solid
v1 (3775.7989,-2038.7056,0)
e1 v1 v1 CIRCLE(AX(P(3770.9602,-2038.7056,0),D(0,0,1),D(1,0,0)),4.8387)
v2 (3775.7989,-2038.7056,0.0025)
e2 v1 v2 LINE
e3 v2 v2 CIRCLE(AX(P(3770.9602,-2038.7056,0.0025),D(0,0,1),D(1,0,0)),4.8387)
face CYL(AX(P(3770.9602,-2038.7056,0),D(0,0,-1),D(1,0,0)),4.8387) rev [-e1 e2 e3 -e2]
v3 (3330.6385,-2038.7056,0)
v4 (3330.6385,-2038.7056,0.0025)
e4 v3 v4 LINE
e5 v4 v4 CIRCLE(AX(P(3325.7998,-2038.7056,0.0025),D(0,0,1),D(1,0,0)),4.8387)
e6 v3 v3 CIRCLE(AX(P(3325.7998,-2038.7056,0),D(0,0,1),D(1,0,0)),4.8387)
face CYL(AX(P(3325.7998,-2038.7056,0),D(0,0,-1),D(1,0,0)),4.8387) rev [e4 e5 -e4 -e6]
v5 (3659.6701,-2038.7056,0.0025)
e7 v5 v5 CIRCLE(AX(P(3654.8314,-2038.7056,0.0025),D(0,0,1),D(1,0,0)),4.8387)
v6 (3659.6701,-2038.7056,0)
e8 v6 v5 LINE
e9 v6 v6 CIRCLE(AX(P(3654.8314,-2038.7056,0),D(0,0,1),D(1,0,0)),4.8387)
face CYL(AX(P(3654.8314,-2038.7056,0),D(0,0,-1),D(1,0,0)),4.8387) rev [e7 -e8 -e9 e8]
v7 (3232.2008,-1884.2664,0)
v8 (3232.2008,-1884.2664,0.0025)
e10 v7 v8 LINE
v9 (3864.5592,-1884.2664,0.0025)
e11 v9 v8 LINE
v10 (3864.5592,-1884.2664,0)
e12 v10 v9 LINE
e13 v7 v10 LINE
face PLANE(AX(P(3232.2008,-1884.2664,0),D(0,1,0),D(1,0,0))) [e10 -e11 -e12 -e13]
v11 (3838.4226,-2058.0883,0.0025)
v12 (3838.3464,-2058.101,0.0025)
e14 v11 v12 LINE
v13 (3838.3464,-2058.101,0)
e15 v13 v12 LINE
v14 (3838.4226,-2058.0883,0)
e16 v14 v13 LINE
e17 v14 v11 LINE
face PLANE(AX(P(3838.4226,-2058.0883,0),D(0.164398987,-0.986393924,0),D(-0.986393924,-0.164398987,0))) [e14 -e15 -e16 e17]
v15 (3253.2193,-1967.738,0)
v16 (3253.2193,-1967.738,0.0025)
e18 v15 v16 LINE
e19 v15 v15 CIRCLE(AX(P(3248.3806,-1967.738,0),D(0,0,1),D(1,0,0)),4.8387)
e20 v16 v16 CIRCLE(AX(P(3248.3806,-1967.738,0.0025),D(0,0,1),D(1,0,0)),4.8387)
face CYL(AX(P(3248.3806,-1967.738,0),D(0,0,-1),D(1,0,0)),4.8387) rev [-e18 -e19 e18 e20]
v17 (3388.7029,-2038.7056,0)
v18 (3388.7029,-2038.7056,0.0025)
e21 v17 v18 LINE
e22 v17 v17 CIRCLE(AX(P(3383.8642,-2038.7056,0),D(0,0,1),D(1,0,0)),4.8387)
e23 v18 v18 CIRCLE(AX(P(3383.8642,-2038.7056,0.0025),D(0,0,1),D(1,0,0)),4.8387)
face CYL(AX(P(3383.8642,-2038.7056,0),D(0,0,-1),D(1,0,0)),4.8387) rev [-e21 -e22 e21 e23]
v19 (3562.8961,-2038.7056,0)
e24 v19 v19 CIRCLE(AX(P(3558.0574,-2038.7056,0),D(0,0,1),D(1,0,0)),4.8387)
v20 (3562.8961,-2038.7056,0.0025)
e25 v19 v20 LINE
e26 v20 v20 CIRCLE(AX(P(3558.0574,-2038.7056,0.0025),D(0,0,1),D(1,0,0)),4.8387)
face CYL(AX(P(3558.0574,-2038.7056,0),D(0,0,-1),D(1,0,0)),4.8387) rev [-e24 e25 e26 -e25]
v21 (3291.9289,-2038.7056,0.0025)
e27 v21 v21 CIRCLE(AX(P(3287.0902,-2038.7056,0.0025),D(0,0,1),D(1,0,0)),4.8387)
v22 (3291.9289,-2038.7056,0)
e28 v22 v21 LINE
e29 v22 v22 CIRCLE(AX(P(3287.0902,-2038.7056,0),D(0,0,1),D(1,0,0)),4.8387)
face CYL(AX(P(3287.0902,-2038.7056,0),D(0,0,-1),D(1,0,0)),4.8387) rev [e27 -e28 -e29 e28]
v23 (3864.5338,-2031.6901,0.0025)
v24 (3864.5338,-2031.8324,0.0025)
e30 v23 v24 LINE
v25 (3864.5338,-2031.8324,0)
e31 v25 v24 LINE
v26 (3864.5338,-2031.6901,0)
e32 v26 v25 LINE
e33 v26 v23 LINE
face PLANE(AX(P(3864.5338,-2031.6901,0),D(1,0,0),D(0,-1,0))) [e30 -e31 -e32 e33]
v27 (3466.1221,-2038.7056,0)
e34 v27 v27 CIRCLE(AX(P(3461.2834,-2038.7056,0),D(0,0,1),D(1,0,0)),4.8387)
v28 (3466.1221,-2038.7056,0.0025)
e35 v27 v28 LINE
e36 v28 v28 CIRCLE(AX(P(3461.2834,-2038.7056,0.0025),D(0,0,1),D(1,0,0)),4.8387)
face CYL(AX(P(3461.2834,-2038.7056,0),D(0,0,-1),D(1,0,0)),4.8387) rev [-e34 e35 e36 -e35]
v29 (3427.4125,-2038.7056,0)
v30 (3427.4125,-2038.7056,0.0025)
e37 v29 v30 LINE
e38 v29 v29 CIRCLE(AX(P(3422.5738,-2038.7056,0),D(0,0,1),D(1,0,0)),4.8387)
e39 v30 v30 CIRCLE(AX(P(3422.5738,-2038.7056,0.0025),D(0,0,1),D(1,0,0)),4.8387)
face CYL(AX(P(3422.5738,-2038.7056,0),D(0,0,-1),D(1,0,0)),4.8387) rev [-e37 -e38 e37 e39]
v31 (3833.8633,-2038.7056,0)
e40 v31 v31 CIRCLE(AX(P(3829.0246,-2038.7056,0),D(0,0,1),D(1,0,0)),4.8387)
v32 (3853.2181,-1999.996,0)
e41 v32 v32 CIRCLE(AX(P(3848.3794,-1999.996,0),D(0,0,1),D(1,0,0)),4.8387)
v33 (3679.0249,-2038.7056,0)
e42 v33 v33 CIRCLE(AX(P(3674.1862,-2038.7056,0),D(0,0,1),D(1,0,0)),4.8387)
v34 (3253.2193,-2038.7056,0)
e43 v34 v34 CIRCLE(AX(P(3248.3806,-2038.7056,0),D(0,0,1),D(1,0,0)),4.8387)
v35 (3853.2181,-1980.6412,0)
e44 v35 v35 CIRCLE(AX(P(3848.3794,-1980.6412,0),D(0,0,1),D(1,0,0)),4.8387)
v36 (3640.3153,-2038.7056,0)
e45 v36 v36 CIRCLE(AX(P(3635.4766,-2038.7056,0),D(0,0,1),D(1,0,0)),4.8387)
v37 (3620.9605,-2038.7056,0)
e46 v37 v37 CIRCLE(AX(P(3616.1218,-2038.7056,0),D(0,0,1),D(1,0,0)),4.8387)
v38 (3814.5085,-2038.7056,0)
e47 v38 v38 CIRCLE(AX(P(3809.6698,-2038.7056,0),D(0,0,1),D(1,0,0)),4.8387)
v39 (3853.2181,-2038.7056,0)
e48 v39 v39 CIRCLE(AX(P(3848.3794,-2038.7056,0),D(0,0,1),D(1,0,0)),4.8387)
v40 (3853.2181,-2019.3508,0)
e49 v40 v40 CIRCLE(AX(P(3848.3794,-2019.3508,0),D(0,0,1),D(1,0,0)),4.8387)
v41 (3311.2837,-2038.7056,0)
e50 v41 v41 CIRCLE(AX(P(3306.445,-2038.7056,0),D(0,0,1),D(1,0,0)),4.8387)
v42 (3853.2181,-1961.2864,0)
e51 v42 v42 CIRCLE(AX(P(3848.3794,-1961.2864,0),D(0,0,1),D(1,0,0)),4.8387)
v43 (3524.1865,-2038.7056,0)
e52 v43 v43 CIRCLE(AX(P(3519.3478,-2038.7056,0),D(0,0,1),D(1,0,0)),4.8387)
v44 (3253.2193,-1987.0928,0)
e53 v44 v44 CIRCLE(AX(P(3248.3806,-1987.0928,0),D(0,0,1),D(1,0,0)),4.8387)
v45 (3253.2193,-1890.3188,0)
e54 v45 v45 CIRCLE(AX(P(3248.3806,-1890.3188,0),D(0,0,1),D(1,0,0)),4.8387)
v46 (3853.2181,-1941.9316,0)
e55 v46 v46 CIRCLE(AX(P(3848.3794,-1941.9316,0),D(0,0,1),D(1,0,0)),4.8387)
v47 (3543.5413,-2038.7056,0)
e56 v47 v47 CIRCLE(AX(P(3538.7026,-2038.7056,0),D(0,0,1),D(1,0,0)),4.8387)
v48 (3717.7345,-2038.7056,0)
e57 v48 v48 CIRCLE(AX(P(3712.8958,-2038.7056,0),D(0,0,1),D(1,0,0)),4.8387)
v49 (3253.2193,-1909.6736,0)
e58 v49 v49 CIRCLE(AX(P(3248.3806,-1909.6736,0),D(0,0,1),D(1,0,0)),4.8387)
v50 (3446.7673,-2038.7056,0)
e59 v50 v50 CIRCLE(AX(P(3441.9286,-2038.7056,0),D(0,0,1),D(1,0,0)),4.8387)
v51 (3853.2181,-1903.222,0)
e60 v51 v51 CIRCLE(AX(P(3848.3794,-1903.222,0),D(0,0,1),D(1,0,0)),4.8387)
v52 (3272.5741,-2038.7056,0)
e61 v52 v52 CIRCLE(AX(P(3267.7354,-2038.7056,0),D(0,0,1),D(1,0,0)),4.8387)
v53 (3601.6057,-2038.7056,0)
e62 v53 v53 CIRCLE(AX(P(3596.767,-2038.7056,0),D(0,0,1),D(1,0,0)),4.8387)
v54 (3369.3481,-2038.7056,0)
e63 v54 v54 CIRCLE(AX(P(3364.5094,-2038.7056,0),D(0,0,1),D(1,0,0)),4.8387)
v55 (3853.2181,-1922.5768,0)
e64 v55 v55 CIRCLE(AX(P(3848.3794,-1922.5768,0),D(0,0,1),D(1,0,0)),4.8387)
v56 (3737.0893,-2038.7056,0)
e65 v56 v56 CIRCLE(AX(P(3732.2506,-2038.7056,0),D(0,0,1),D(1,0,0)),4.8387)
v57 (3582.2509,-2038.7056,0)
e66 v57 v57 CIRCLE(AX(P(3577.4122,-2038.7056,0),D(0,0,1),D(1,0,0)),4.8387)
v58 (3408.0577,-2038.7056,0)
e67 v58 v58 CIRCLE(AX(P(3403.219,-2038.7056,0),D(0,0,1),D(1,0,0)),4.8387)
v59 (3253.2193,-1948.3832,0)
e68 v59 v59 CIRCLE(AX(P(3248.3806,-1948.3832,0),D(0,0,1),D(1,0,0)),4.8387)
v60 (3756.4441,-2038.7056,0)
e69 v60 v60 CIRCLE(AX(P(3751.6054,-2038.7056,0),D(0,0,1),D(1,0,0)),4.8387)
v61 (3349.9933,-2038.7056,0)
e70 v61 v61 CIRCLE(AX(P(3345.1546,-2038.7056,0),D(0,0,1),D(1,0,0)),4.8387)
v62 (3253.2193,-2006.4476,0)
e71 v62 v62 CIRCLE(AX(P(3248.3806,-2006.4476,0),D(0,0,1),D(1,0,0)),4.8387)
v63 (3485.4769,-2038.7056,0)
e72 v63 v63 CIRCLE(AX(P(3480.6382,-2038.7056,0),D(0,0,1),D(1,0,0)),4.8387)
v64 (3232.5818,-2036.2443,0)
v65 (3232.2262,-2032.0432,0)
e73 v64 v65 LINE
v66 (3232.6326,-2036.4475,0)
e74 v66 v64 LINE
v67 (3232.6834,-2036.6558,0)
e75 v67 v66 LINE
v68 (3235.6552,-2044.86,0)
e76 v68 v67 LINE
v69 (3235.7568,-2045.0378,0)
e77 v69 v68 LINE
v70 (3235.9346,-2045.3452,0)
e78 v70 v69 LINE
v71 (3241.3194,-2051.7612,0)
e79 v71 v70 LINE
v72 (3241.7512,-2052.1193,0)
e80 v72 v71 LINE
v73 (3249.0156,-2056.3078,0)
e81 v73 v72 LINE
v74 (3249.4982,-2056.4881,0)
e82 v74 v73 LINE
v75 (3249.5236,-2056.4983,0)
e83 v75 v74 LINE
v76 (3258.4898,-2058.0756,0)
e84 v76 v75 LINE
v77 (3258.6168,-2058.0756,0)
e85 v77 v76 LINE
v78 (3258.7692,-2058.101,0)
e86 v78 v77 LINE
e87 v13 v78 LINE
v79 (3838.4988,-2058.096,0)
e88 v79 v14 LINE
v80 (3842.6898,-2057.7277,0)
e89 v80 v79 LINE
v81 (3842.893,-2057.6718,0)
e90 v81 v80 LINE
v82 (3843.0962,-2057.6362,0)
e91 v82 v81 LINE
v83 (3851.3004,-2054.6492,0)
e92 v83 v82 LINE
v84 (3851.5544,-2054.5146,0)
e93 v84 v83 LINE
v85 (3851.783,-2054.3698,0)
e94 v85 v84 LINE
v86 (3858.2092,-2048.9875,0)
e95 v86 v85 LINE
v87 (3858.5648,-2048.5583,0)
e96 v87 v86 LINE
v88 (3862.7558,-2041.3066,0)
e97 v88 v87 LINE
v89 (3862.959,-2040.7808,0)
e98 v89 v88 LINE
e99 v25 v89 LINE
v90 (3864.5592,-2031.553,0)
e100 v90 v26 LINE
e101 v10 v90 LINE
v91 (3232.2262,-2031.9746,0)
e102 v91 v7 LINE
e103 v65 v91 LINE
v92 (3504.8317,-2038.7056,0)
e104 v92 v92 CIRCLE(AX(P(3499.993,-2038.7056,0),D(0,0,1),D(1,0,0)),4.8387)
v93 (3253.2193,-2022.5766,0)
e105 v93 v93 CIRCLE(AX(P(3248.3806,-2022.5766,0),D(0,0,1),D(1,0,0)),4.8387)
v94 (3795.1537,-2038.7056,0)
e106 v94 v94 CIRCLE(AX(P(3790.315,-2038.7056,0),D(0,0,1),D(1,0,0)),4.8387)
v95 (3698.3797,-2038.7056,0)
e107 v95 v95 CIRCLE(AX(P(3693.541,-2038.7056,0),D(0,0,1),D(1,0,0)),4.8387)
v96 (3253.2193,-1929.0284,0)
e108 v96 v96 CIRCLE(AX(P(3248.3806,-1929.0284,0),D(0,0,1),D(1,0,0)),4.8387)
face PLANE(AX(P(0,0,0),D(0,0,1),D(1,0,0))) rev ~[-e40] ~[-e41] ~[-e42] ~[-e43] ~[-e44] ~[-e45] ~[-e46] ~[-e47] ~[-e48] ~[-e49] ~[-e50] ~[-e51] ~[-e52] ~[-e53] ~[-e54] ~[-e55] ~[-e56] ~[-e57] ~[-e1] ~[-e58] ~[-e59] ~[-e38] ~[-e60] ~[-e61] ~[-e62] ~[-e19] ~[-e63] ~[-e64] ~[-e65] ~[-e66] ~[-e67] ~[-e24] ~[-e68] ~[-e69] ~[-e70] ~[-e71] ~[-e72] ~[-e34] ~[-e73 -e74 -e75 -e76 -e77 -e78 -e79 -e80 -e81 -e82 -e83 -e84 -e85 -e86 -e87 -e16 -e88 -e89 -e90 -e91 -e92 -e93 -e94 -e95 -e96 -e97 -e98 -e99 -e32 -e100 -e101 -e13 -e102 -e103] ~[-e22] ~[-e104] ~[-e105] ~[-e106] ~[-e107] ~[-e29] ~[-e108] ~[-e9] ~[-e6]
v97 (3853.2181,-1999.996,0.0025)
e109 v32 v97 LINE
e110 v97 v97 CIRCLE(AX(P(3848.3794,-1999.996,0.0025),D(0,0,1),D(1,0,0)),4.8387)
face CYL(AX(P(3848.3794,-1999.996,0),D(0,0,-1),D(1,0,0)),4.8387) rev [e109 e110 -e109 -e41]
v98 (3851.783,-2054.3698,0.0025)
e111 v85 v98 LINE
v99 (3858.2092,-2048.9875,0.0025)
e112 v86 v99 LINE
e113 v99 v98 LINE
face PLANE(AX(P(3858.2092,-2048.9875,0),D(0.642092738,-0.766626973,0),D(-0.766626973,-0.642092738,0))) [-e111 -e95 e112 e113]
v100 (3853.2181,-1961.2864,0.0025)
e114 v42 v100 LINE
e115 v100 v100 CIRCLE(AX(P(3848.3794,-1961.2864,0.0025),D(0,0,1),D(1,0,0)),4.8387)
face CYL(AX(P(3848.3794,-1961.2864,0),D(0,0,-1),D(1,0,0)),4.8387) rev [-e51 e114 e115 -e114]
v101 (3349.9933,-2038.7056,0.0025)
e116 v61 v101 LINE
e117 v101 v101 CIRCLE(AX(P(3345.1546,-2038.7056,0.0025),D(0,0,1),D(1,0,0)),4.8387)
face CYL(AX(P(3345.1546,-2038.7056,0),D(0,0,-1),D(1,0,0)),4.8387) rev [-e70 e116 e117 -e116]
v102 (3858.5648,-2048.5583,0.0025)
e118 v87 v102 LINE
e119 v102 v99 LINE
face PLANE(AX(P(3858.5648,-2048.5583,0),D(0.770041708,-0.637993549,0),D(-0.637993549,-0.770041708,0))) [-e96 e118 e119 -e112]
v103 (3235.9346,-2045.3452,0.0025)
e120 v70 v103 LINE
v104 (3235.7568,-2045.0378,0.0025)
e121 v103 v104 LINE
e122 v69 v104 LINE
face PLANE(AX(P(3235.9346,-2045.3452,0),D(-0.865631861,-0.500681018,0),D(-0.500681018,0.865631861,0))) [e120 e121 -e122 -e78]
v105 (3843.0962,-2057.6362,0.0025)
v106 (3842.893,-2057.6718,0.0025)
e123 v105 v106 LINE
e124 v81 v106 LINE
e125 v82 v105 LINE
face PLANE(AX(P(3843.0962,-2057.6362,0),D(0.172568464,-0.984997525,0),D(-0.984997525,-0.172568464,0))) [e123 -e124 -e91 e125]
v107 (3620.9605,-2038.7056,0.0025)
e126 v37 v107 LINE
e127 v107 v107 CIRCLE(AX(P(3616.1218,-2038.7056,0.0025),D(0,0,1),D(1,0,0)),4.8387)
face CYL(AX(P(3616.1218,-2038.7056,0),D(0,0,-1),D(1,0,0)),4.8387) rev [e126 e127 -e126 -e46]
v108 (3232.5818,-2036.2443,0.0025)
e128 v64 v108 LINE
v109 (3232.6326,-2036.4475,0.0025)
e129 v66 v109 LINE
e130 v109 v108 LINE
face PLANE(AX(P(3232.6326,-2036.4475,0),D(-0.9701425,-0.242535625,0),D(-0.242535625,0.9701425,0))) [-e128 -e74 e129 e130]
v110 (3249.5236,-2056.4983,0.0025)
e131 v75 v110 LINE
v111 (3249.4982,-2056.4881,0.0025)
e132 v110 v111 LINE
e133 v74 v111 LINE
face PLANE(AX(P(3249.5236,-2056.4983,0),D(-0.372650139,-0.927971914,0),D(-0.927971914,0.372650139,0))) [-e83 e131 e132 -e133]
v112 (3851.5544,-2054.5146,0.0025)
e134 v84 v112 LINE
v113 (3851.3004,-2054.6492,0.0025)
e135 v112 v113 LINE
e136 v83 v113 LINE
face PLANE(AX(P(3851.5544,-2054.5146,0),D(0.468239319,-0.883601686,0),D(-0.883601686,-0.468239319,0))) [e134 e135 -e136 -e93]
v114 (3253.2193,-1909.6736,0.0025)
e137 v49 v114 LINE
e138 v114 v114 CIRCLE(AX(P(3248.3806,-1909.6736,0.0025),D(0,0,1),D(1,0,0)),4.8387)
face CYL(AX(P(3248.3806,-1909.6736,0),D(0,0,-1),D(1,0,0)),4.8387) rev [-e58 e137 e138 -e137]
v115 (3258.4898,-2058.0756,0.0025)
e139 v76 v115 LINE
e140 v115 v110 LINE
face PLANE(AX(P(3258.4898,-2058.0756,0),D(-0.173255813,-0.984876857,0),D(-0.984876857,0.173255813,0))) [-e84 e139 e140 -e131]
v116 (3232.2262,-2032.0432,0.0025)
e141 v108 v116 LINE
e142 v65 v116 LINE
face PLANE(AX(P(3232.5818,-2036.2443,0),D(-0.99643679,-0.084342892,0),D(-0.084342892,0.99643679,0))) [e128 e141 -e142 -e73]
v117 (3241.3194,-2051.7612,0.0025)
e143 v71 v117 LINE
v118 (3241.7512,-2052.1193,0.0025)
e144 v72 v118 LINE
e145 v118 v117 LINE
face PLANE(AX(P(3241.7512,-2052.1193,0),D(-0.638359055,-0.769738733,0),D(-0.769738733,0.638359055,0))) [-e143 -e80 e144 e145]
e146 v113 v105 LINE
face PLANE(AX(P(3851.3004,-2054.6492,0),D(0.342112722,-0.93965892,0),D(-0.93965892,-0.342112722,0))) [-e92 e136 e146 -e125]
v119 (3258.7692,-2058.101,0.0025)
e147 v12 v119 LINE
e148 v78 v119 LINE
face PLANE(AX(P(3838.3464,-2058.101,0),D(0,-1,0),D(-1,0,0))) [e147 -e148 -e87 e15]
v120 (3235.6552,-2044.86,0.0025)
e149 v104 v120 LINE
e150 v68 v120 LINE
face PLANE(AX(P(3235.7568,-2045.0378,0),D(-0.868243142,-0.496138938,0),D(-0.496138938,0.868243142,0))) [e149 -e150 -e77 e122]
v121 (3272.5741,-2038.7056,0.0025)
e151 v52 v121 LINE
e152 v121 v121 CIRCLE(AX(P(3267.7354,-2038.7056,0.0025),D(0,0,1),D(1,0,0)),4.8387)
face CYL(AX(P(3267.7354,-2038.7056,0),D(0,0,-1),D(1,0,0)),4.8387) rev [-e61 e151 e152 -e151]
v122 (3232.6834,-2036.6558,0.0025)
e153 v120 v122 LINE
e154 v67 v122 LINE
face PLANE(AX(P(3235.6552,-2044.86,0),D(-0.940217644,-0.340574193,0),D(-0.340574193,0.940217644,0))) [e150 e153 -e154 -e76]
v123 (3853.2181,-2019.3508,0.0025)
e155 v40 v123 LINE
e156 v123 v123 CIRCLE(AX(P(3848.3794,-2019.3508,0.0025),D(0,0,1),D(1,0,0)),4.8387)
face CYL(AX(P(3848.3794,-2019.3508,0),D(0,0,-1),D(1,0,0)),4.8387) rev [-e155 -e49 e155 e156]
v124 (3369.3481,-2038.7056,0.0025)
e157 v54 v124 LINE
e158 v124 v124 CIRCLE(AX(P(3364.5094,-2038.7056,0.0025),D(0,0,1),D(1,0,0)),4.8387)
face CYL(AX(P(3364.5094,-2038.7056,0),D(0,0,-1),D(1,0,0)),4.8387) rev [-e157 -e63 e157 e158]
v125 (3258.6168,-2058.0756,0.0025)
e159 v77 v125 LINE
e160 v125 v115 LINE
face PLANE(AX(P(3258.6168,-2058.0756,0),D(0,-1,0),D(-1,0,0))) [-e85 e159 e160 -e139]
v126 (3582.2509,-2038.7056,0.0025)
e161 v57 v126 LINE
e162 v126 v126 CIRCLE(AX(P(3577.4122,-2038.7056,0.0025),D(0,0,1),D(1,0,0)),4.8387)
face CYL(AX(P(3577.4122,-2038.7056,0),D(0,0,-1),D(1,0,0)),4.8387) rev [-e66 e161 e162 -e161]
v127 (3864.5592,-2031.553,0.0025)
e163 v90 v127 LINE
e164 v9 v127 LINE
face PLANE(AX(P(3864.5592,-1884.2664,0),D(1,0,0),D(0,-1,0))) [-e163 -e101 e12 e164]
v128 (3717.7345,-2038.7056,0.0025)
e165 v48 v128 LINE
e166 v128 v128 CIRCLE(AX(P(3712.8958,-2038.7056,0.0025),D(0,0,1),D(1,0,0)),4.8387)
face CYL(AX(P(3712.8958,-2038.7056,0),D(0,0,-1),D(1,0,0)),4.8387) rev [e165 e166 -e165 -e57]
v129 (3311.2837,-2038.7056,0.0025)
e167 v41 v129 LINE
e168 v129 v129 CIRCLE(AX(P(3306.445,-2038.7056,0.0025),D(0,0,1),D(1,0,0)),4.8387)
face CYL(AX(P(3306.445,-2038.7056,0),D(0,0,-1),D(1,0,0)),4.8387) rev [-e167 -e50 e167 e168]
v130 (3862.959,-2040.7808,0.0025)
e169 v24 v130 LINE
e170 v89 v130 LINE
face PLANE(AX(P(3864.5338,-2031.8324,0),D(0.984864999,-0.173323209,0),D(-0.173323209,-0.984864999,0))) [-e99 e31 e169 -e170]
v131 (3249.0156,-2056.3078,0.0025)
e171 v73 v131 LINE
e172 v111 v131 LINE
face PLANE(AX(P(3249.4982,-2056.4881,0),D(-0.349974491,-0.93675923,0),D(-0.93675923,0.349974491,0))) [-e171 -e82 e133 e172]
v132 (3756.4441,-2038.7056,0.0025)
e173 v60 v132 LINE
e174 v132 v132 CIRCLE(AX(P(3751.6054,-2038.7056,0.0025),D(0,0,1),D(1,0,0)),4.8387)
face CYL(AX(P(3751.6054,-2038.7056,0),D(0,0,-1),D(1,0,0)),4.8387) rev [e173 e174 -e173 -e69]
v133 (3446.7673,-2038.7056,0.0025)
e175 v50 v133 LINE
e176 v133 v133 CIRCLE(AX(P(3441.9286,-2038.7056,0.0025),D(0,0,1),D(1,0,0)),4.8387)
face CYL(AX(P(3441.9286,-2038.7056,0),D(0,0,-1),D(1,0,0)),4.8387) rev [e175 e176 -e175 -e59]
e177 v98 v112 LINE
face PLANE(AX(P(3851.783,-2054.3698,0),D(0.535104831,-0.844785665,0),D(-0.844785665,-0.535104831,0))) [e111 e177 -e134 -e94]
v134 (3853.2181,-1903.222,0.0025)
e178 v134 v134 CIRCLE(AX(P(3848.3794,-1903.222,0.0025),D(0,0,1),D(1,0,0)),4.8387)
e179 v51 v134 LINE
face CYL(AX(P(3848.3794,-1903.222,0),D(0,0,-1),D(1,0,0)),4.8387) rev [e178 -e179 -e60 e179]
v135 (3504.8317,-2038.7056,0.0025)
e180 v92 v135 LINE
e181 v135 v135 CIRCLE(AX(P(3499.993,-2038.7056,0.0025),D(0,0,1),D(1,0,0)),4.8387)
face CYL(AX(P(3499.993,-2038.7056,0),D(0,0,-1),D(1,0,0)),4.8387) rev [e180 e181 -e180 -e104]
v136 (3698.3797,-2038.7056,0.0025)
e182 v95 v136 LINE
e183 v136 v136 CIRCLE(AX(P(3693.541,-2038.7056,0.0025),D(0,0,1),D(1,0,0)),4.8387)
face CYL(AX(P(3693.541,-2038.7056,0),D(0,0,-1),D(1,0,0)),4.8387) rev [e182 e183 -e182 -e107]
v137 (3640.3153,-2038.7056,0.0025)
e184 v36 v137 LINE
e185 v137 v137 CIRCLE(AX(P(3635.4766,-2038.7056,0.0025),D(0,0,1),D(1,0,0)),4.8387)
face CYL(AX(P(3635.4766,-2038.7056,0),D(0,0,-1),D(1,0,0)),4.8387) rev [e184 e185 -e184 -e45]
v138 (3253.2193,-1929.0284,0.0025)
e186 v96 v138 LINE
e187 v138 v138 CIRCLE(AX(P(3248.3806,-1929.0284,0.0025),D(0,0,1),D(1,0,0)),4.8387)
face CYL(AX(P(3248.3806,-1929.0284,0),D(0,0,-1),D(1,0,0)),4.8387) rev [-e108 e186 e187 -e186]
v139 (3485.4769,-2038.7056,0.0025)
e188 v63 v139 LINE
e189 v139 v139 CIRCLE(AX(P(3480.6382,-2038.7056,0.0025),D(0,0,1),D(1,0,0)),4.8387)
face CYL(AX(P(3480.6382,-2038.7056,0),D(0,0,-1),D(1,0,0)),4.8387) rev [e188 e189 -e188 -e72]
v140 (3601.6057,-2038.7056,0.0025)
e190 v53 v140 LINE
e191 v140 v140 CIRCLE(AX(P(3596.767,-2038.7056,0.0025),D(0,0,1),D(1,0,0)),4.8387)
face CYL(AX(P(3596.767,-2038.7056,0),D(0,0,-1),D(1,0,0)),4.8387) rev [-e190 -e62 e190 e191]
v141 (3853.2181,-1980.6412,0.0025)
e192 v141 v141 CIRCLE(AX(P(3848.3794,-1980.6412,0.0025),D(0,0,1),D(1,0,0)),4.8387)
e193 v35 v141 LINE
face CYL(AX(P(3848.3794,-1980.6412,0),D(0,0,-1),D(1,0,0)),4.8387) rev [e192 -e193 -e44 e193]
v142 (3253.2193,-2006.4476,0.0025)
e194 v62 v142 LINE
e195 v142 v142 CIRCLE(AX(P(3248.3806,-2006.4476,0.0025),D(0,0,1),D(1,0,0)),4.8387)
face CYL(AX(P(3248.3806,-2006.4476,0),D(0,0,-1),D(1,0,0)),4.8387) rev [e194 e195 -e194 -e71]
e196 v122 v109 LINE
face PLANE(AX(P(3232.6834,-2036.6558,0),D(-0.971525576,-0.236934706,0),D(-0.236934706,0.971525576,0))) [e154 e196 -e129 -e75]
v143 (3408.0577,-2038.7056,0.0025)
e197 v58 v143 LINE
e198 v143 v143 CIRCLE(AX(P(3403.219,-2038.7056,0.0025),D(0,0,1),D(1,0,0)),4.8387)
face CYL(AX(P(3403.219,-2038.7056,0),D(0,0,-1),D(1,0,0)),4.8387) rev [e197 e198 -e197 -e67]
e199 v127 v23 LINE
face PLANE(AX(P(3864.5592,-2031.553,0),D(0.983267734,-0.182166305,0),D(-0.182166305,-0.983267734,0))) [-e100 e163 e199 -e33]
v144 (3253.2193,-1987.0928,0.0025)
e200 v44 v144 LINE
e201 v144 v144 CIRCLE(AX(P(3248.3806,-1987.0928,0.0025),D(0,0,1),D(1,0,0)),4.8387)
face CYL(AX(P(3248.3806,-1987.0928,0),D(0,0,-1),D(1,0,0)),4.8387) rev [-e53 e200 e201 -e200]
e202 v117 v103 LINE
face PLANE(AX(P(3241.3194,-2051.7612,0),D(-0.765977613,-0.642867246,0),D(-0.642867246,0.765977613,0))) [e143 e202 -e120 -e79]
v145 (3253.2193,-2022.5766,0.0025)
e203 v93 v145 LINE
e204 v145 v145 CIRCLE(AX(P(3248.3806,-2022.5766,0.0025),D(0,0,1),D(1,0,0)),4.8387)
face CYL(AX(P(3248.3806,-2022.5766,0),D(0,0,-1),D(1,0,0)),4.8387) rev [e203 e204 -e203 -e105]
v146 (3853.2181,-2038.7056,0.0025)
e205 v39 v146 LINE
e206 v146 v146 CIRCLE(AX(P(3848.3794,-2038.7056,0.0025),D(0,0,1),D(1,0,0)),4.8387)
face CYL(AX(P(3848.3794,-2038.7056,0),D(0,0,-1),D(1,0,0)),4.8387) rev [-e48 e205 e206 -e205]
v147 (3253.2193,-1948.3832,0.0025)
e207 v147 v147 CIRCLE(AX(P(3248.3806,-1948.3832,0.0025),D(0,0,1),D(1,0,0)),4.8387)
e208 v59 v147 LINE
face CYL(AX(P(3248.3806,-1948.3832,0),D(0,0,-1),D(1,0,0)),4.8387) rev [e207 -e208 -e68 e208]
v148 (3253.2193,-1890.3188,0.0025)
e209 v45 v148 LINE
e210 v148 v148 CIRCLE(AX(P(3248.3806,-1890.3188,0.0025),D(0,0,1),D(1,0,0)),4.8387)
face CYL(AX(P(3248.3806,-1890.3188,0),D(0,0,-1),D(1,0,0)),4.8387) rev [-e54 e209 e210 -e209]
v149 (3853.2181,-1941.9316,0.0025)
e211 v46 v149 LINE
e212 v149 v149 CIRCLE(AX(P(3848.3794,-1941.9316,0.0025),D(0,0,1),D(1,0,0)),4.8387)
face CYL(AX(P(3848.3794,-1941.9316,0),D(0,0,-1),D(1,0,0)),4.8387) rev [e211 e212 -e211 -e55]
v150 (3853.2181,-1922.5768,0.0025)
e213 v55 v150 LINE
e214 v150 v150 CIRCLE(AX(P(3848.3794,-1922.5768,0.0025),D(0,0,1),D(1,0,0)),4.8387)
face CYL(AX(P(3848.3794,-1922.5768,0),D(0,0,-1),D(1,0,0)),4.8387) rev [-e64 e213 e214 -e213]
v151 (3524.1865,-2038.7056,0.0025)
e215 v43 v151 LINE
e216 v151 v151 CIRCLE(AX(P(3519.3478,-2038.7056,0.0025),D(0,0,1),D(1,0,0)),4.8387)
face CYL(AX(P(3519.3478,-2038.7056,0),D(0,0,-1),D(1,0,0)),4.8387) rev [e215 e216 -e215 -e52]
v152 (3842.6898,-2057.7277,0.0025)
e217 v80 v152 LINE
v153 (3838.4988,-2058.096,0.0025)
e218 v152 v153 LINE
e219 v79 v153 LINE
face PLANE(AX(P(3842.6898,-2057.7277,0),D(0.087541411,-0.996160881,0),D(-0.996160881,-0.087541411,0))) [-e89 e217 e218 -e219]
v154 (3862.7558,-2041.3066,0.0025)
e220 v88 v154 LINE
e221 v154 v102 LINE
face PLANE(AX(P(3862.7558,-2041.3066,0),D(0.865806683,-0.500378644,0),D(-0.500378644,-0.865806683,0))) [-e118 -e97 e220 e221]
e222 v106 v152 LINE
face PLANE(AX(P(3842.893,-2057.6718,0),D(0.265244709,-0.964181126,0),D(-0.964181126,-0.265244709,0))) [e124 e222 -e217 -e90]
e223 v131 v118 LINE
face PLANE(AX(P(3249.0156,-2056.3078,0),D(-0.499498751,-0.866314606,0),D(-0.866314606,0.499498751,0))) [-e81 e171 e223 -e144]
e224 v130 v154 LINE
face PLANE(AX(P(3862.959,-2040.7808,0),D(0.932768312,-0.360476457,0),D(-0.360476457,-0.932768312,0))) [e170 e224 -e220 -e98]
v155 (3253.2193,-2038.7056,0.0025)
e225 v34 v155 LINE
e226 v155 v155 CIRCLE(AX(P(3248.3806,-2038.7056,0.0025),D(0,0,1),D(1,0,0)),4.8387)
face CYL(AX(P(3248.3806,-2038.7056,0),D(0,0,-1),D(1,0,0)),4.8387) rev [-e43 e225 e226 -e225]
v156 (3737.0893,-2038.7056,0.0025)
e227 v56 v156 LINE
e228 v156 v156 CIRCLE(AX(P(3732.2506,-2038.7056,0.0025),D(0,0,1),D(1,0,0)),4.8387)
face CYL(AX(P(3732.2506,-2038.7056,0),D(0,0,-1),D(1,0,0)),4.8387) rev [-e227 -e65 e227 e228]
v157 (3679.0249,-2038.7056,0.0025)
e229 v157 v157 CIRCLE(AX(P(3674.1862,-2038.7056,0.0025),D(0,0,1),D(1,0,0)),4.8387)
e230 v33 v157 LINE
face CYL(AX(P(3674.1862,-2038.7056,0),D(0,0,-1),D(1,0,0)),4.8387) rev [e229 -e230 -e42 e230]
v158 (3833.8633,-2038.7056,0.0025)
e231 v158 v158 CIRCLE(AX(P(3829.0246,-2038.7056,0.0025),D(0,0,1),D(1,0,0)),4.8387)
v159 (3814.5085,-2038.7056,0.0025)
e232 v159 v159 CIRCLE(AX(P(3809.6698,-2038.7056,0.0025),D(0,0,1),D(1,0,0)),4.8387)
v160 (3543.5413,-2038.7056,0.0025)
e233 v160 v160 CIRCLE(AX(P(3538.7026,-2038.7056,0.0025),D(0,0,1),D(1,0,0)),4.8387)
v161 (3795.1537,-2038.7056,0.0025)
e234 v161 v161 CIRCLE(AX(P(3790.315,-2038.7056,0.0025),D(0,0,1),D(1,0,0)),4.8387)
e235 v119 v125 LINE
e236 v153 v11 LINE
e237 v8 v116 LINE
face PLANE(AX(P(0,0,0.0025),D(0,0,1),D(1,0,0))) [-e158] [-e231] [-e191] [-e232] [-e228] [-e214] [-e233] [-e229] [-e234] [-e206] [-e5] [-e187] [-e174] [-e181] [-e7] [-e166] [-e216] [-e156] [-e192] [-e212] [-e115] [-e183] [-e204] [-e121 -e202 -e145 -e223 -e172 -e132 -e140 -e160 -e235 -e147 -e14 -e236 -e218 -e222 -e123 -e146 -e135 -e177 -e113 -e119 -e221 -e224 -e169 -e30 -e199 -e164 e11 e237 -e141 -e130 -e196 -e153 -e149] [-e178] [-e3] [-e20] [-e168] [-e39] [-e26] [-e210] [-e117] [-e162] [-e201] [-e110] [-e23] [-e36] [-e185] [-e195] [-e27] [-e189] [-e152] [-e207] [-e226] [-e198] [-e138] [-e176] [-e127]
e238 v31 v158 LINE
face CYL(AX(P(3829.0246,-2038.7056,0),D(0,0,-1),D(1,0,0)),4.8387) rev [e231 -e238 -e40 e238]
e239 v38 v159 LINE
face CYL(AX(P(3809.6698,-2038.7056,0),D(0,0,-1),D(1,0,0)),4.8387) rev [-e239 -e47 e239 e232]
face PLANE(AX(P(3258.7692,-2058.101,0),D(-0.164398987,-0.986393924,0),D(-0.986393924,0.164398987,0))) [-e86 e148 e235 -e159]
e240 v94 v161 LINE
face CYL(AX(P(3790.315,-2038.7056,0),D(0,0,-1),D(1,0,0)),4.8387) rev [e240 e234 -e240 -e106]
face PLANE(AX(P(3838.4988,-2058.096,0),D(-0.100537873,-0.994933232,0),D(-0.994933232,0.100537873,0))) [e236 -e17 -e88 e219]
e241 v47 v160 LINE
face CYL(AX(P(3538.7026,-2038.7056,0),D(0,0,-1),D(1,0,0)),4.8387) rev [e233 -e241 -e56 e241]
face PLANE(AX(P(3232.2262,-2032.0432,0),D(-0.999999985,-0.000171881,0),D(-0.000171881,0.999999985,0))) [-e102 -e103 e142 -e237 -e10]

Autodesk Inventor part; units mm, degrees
ref_plane "YZ Plane" through (0, 0, 0) normal (1, 0, 0) x (0, 1, 0)
ref_plane "XZ Plane" through (0, 0, 0) normal (0, 1, 0) x (-1, 0, 0)
ref_plane "XY Plane" through (0, 0, 0) normal (0, 0, 1) x (1, 0, 0)
sketch "Sketch1" plane through (0, 0, 0) normal (0, 0, 1) x (1, 0, 0)
  circle A0 centre (3267.7354, -2038.7056) radius 4.8387 projected
  circle A1 centre (3267.7354, -2038.7056) radius 4.8387 projected
  circle A2 centre (3287.0902, -2038.7056) radius 4.8387 projected
  circle A3 centre (3287.0902, -2038.7056) radius 4.8387 projected
  circle A4 centre (3306.445, -2038.7056) radius 4.8387 projected
  circle A5 centre (3306.445, -2038.7056) radius 4.8387 projected
  circle A6 centre (3325.7998, -2038.7056) radius 4.8387 projected
  circle A7 centre (3325.7998, -2038.7056) radius 4.8387 projected
  circle A8 centre (3345.1546, -2038.7056) radius 4.8387 projected
  circle A9 centre (3345.1546, -2038.7056) radius 4.8387 projected
  circle A10 centre (3364.5094, -2038.7056) radius 4.8387 projected
  circle A11 centre (3364.5094, -2038.7056) radius 4.8387 projected
  circle A12 centre (3383.8642, -2038.7056) radius 4.8387 projected
  circle A13 centre (3383.8642, -2038.7056) radius 4.8387 projected
  line L0 (3864.5338, -2031.6901) -> (3864.5338, -2031.8324) projected
  line L1 (3864.5338, -2031.8324) -> (3862.959, -2040.7808) projected
  line L2 (3862.959, -2040.7808) -> (3862.7558, -2041.3066) projected
  line L3 (3862.7558, -2041.3066) -> (3858.5648, -2048.5583) projected
  line L4 (3858.5648, -2048.5583) -> (3858.2092, -2048.9875) projected
  line L5 (3858.2092, -2048.9875) -> (3851.783, -2054.3698) projected
  line L6 (3851.783, -2054.3698) -> (3851.5544, -2054.5146) projected
  line L7 (3851.5544, -2054.5146) -> (3851.3004, -2054.6492) projected
  line L8 (3851.3004, -2054.6492) -> (3843.0962, -2057.6362) projected
  line L9 (3843.0962, -2057.6362) -> (3842.893, -2057.6718) projected
  line L10 (3842.893, -2057.6718) -> (3842.6898, -2057.7277) projected
  line L11 (3842.6898, -2057.7277) -> (3838.4988, -2058.096) projected
  line L12 (3838.4988, -2058.096) -> (3838.4226, -2058.0883) projected
  line L13 (3838.4226, -2058.0883) -> (3838.3464, -2058.101) projected
  line L14 (3838.3464, -2058.101) -> (3258.7692, -2058.101) projected
  line L15 (3258.7692, -2058.101) -> (3258.6168, -2058.0756) projected
  line L16 (3258.6168, -2058.0756) -> (3258.4898, -2058.0756) projected
  line L17 (3258.4898, -2058.0756) -> (3249.5236, -2056.4983) projected
  line L18 (3249.5236, -2056.4983) -> (3249.4982, -2056.4881) projected
  line L19 (3249.4982, -2056.4881) -> (3249.0156, -2056.3078) projected
  line L20 (3249.0156, -2056.3078) -> (3241.7512, -2052.1193) projected
  line L21 (3241.7512, -2052.1193) -> (3241.3194, -2051.7612) projected
  line L22 (3241.3194, -2051.7612) -> (3235.9346, -2045.3452) projected
  line L23 (3235.9346, -2045.3452) -> (3235.7568, -2045.0378) projected
  line L24 (3235.7568, -2045.0378) -> (3235.6552, -2044.86) projected
  line L25 (3235.6552, -2044.86) -> (3232.6834, -2036.6558) projected
  line L26 (3232.6834, -2036.6558) -> (3232.6326, -2036.4475) projected
  line L27 (3232.6326, -2036.4475) -> (3232.5818, -2036.2443) projected
  line L28 (3232.5818, -2036.2443) -> (3232.2262, -2032.0432) projected
  line L29 (3232.2262, -2032.0432) -> (3232.2008, -1884.2664) projected
  line L30 (3232.2008, -1884.2664) -> (3864.5592, -1884.2664) projected
  line L31 (3864.5592, -1884.2664) -> (3864.5592, -2031.553) projected
  line L32 (3864.5592, -2031.553) -> (3864.5338, -2031.6901) projected
  line L33 (3232.2262, -2032.0432) -> (3232.2262, -2031.9746) projected
  line L34 (3232.2262, -2031.9746) -> (3232.2008, -2031.9035) projected
  circle A14 centre (3248.3806, -2038.7056) radius 4.8387 projected
  circle A15 centre (3248.3806, -2038.7056) radius 4.8387 projected
  circle A16 centre (3248.3806, -2022.5766) radius 4.8387 projected
  circle A17 centre (3248.3806, -2022.5766) radius 4.8387 projected
  circle A18 centre (3248.3806, -2006.4476) radius 4.8387 projected
  circle A19 centre (3248.3806, -2006.4476) radius 4.8387 projected
  circle A20 centre (3248.3806, -1987.0928) radius 4.8387 projected
  circle A21 centre (3248.3806, -1987.0928) radius 4.8387 projected
  circle A22 centre (3848.3794, -1999.996) radius 4.8387 projected
  circle A23 centre (3848.3794, -1980.6412) radius 4.8387 projected
  circle A24 centre (3848.3794, -1980.6412) radius 4.8387 projected
  circle A25 centre (3848.3794, -1961.2864) radius 4.8387 projected
  circle A26 centre (3848.3794, -1961.2864) radius 4.8387 projected
  circle A27 centre (3848.3794, -1941.9316) radius 4.8387 projected
  circle A28 centre (3848.3794, -1941.9316) radius 4.8387 projected
  circle A29 centre (3848.3794, -1922.5768) radius 4.8387 projected
  circle A30 centre (3848.3794, -1922.5768) radius 4.8387 projected
  circle A31 centre (3848.3794, -1903.222) radius 4.8387 projected
  circle A32 centre (3848.3794, -1903.222) radius 4.8387 projected
  circle A33 centre (3848.3794, -1883.8672) radius 4.8387 projected
  circle A34 centre (3848.3794, -1883.8672) radius 4.8387 projected
  circle A35 centre (3848.3794, -1999.996) radius 4.8387 projected
  circle A36 centre (3248.3806, -1967.738) radius 4.8387 projected
  circle A37 centre (3248.3806, -1967.738) radius 4.8387 projected
  circle A38 centre (3248.3806, -1948.3832) radius 4.8387 projected
  circle A39 centre (3248.3806, -1948.3832) radius 4.8387 projected
  circle A40 centre (3248.3806, -1929.0284) radius 4.8387 projected
  circle A41 centre (3248.3806, -1909.6736) radius 4.8387 projected
  circle A42 centre (3248.3806, -1909.6736) radius 4.8387 projected
  circle A43 centre (3248.3806, -1890.3188) radius 4.8387 projected
  circle A44 centre (3248.3806, -1890.3188) radius 4.8387 projected
  circle A45 centre (3248.3806, -1929.0284) radius 4.8387 projected
  circle A46 centre (3558.0574, -2038.7056) radius 4.8387 projected
  circle A47 centre (3577.4122, -2038.7056) radius 4.8387 projected
  circle A48 centre (3596.767, -2038.7056) radius 4.8387 projected
  circle A49 centre (3616.1218, -2038.7056) radius 4.8387 projected
  circle A50 centre (3635.4766, -2038.7056) radius 4.8387 projected
  circle A51 centre (3654.8314, -2038.7056) radius 4.8387 projected
  circle A52 centre (3674.1862, -2038.7056) radius 4.8387 projected
  circle A53 centre (3693.541, -2038.7056) radius 4.8387 projected
  circle A54 centre (3712.8958, -2038.7056) radius 4.8387 projected
  circle A55 centre (3693.541, -2038.7056) radius 4.8387 projected
  circle A56 centre (3674.1862, -2038.7056) radius 4.8387 projected
  circle A57 centre (3654.8314, -2038.7056) radius 4.8387 projected
  circle A58 centre (3635.4766, -2038.7056) radius 4.8387 projected
  circle A59 centre (3616.1218, -2038.7056) radius 4.8387 projected
  circle A60 centre (3596.767, -2038.7056) radius 4.8387 projected
  circle A61 centre (3577.4122, -2038.7056) radius 4.8387 projected
  circle A62 centre (3558.0574, -2038.7056) radius 4.8387 projected
  circle A63 centre (3712.8958, -2038.7056) radius 4.8387 projected
  circle A64 centre (3848.3794, -2019.3508) radius 4.8387 projected
  circle A65 centre (3848.3794, -2019.3508) radius 4.8387 projected
  circle A66 centre (3732.2506, -2038.7056) radius 4.8387 projected
  circle A67 centre (3732.2506, -2038.7056) radius 4.8387 projected
  circle A68 centre (3751.6054, -2038.7056) radius 4.8387 projected
  circle A69 centre (3751.6054, -2038.7056) radius 4.8387 projected
  circle A70 centre (3770.9602, -2038.7056) radius 4.8387 projected
  circle A71 centre (3770.9602, -2038.7056) radius 4.8387 projected
  circle A72 centre (3790.315, -2038.7056) radius 4.8387 projected
  circle A73 centre (3790.315, -2038.7056) radius 4.8387 projected
  circle A74 centre (3809.6698, -2038.7056) radius 4.8387 projected
  circle A75 centre (3809.6698, -2038.7056) radius 4.8387 projected
  circle A76 centre (3829.0246, -2038.7056) radius 4.8387 projected
  circle A77 centre (3829.0246, -2038.7056) radius 4.8387 projected
  circle A78 centre (3848.3794, -2038.7056) radius 4.8387 projected
  circle A79 centre (3848.3794, -2038.7056) radius 4.8387 projected
  circle A80 centre (3403.219, -2038.7056) radius 4.8387 projected
  circle A81 centre (3403.219, -2038.7056) radius 4.8387 projected
  circle A82 centre (3422.5738, -2038.7056) radius 4.8387 projected
  circle A83 centre (3441.9286, -2038.7056) radius 4.8387 projected
  circle A84 centre (3441.9286, -2038.7056) radius 4.8387 projected
  circle A85 centre (3461.2834, -2038.7056) radius 4.8387 projected
  circle A86 centre (3461.2834, -2038.7056) radius 4.8387 projected
  circle A87 centre (3480.6382, -2038.7056) radius 4.8387 projected
  circle A88 centre (3480.6382, -2038.7056) radius 4.8387 projected
  circle A89 centre (3499.993, -2038.7056) radius 4.8387 projected
  circle A90 centre (3499.993, -2038.7056) radius 4.8387 projected
  circle A91 centre (3519.3478, -2038.7056) radius 4.8387 projected
  circle A92 centre (3519.3478, -2038.7056) radius 4.8387 projected
  circle A93 centre (3538.7026, -2038.7056) radius 4.8387 projected
  circle A94 centre (3538.7026, -2038.7056) radius 4.8387 projected
  circle A95 centre (3422.5738, -2038.7056) radius 4.8387 projected
  point P0 (0, 0)
extrude "Extrusion1" add sketch "Sketch1" along normal blind 0.0025 contours L0 L1 L2 L3 L4 L5 L6 L7 L8 L9 L10 L11 L12 L13 L14 L15 L16 L17 L18 L19 L20 L21 L22 L23 L24 L25 L26 L27 L28 L29 L30 A33 L31 L32 | A33 L30 picked at (3848.3794, -1885.7462)
sketch "Sketch2" plane through (0, 0, 0.0025) normal (0, 0, 1) x (1, 0, 0)
  point P0 (0, 0)
sketch "Sketch3" plane through (0, 0, 0.0025) normal (0, 0, 1) x (1, 0, 0)
  point P0 (0, 0)
properties part number "BaseBandAmp_Top_SolderMaskLower"
